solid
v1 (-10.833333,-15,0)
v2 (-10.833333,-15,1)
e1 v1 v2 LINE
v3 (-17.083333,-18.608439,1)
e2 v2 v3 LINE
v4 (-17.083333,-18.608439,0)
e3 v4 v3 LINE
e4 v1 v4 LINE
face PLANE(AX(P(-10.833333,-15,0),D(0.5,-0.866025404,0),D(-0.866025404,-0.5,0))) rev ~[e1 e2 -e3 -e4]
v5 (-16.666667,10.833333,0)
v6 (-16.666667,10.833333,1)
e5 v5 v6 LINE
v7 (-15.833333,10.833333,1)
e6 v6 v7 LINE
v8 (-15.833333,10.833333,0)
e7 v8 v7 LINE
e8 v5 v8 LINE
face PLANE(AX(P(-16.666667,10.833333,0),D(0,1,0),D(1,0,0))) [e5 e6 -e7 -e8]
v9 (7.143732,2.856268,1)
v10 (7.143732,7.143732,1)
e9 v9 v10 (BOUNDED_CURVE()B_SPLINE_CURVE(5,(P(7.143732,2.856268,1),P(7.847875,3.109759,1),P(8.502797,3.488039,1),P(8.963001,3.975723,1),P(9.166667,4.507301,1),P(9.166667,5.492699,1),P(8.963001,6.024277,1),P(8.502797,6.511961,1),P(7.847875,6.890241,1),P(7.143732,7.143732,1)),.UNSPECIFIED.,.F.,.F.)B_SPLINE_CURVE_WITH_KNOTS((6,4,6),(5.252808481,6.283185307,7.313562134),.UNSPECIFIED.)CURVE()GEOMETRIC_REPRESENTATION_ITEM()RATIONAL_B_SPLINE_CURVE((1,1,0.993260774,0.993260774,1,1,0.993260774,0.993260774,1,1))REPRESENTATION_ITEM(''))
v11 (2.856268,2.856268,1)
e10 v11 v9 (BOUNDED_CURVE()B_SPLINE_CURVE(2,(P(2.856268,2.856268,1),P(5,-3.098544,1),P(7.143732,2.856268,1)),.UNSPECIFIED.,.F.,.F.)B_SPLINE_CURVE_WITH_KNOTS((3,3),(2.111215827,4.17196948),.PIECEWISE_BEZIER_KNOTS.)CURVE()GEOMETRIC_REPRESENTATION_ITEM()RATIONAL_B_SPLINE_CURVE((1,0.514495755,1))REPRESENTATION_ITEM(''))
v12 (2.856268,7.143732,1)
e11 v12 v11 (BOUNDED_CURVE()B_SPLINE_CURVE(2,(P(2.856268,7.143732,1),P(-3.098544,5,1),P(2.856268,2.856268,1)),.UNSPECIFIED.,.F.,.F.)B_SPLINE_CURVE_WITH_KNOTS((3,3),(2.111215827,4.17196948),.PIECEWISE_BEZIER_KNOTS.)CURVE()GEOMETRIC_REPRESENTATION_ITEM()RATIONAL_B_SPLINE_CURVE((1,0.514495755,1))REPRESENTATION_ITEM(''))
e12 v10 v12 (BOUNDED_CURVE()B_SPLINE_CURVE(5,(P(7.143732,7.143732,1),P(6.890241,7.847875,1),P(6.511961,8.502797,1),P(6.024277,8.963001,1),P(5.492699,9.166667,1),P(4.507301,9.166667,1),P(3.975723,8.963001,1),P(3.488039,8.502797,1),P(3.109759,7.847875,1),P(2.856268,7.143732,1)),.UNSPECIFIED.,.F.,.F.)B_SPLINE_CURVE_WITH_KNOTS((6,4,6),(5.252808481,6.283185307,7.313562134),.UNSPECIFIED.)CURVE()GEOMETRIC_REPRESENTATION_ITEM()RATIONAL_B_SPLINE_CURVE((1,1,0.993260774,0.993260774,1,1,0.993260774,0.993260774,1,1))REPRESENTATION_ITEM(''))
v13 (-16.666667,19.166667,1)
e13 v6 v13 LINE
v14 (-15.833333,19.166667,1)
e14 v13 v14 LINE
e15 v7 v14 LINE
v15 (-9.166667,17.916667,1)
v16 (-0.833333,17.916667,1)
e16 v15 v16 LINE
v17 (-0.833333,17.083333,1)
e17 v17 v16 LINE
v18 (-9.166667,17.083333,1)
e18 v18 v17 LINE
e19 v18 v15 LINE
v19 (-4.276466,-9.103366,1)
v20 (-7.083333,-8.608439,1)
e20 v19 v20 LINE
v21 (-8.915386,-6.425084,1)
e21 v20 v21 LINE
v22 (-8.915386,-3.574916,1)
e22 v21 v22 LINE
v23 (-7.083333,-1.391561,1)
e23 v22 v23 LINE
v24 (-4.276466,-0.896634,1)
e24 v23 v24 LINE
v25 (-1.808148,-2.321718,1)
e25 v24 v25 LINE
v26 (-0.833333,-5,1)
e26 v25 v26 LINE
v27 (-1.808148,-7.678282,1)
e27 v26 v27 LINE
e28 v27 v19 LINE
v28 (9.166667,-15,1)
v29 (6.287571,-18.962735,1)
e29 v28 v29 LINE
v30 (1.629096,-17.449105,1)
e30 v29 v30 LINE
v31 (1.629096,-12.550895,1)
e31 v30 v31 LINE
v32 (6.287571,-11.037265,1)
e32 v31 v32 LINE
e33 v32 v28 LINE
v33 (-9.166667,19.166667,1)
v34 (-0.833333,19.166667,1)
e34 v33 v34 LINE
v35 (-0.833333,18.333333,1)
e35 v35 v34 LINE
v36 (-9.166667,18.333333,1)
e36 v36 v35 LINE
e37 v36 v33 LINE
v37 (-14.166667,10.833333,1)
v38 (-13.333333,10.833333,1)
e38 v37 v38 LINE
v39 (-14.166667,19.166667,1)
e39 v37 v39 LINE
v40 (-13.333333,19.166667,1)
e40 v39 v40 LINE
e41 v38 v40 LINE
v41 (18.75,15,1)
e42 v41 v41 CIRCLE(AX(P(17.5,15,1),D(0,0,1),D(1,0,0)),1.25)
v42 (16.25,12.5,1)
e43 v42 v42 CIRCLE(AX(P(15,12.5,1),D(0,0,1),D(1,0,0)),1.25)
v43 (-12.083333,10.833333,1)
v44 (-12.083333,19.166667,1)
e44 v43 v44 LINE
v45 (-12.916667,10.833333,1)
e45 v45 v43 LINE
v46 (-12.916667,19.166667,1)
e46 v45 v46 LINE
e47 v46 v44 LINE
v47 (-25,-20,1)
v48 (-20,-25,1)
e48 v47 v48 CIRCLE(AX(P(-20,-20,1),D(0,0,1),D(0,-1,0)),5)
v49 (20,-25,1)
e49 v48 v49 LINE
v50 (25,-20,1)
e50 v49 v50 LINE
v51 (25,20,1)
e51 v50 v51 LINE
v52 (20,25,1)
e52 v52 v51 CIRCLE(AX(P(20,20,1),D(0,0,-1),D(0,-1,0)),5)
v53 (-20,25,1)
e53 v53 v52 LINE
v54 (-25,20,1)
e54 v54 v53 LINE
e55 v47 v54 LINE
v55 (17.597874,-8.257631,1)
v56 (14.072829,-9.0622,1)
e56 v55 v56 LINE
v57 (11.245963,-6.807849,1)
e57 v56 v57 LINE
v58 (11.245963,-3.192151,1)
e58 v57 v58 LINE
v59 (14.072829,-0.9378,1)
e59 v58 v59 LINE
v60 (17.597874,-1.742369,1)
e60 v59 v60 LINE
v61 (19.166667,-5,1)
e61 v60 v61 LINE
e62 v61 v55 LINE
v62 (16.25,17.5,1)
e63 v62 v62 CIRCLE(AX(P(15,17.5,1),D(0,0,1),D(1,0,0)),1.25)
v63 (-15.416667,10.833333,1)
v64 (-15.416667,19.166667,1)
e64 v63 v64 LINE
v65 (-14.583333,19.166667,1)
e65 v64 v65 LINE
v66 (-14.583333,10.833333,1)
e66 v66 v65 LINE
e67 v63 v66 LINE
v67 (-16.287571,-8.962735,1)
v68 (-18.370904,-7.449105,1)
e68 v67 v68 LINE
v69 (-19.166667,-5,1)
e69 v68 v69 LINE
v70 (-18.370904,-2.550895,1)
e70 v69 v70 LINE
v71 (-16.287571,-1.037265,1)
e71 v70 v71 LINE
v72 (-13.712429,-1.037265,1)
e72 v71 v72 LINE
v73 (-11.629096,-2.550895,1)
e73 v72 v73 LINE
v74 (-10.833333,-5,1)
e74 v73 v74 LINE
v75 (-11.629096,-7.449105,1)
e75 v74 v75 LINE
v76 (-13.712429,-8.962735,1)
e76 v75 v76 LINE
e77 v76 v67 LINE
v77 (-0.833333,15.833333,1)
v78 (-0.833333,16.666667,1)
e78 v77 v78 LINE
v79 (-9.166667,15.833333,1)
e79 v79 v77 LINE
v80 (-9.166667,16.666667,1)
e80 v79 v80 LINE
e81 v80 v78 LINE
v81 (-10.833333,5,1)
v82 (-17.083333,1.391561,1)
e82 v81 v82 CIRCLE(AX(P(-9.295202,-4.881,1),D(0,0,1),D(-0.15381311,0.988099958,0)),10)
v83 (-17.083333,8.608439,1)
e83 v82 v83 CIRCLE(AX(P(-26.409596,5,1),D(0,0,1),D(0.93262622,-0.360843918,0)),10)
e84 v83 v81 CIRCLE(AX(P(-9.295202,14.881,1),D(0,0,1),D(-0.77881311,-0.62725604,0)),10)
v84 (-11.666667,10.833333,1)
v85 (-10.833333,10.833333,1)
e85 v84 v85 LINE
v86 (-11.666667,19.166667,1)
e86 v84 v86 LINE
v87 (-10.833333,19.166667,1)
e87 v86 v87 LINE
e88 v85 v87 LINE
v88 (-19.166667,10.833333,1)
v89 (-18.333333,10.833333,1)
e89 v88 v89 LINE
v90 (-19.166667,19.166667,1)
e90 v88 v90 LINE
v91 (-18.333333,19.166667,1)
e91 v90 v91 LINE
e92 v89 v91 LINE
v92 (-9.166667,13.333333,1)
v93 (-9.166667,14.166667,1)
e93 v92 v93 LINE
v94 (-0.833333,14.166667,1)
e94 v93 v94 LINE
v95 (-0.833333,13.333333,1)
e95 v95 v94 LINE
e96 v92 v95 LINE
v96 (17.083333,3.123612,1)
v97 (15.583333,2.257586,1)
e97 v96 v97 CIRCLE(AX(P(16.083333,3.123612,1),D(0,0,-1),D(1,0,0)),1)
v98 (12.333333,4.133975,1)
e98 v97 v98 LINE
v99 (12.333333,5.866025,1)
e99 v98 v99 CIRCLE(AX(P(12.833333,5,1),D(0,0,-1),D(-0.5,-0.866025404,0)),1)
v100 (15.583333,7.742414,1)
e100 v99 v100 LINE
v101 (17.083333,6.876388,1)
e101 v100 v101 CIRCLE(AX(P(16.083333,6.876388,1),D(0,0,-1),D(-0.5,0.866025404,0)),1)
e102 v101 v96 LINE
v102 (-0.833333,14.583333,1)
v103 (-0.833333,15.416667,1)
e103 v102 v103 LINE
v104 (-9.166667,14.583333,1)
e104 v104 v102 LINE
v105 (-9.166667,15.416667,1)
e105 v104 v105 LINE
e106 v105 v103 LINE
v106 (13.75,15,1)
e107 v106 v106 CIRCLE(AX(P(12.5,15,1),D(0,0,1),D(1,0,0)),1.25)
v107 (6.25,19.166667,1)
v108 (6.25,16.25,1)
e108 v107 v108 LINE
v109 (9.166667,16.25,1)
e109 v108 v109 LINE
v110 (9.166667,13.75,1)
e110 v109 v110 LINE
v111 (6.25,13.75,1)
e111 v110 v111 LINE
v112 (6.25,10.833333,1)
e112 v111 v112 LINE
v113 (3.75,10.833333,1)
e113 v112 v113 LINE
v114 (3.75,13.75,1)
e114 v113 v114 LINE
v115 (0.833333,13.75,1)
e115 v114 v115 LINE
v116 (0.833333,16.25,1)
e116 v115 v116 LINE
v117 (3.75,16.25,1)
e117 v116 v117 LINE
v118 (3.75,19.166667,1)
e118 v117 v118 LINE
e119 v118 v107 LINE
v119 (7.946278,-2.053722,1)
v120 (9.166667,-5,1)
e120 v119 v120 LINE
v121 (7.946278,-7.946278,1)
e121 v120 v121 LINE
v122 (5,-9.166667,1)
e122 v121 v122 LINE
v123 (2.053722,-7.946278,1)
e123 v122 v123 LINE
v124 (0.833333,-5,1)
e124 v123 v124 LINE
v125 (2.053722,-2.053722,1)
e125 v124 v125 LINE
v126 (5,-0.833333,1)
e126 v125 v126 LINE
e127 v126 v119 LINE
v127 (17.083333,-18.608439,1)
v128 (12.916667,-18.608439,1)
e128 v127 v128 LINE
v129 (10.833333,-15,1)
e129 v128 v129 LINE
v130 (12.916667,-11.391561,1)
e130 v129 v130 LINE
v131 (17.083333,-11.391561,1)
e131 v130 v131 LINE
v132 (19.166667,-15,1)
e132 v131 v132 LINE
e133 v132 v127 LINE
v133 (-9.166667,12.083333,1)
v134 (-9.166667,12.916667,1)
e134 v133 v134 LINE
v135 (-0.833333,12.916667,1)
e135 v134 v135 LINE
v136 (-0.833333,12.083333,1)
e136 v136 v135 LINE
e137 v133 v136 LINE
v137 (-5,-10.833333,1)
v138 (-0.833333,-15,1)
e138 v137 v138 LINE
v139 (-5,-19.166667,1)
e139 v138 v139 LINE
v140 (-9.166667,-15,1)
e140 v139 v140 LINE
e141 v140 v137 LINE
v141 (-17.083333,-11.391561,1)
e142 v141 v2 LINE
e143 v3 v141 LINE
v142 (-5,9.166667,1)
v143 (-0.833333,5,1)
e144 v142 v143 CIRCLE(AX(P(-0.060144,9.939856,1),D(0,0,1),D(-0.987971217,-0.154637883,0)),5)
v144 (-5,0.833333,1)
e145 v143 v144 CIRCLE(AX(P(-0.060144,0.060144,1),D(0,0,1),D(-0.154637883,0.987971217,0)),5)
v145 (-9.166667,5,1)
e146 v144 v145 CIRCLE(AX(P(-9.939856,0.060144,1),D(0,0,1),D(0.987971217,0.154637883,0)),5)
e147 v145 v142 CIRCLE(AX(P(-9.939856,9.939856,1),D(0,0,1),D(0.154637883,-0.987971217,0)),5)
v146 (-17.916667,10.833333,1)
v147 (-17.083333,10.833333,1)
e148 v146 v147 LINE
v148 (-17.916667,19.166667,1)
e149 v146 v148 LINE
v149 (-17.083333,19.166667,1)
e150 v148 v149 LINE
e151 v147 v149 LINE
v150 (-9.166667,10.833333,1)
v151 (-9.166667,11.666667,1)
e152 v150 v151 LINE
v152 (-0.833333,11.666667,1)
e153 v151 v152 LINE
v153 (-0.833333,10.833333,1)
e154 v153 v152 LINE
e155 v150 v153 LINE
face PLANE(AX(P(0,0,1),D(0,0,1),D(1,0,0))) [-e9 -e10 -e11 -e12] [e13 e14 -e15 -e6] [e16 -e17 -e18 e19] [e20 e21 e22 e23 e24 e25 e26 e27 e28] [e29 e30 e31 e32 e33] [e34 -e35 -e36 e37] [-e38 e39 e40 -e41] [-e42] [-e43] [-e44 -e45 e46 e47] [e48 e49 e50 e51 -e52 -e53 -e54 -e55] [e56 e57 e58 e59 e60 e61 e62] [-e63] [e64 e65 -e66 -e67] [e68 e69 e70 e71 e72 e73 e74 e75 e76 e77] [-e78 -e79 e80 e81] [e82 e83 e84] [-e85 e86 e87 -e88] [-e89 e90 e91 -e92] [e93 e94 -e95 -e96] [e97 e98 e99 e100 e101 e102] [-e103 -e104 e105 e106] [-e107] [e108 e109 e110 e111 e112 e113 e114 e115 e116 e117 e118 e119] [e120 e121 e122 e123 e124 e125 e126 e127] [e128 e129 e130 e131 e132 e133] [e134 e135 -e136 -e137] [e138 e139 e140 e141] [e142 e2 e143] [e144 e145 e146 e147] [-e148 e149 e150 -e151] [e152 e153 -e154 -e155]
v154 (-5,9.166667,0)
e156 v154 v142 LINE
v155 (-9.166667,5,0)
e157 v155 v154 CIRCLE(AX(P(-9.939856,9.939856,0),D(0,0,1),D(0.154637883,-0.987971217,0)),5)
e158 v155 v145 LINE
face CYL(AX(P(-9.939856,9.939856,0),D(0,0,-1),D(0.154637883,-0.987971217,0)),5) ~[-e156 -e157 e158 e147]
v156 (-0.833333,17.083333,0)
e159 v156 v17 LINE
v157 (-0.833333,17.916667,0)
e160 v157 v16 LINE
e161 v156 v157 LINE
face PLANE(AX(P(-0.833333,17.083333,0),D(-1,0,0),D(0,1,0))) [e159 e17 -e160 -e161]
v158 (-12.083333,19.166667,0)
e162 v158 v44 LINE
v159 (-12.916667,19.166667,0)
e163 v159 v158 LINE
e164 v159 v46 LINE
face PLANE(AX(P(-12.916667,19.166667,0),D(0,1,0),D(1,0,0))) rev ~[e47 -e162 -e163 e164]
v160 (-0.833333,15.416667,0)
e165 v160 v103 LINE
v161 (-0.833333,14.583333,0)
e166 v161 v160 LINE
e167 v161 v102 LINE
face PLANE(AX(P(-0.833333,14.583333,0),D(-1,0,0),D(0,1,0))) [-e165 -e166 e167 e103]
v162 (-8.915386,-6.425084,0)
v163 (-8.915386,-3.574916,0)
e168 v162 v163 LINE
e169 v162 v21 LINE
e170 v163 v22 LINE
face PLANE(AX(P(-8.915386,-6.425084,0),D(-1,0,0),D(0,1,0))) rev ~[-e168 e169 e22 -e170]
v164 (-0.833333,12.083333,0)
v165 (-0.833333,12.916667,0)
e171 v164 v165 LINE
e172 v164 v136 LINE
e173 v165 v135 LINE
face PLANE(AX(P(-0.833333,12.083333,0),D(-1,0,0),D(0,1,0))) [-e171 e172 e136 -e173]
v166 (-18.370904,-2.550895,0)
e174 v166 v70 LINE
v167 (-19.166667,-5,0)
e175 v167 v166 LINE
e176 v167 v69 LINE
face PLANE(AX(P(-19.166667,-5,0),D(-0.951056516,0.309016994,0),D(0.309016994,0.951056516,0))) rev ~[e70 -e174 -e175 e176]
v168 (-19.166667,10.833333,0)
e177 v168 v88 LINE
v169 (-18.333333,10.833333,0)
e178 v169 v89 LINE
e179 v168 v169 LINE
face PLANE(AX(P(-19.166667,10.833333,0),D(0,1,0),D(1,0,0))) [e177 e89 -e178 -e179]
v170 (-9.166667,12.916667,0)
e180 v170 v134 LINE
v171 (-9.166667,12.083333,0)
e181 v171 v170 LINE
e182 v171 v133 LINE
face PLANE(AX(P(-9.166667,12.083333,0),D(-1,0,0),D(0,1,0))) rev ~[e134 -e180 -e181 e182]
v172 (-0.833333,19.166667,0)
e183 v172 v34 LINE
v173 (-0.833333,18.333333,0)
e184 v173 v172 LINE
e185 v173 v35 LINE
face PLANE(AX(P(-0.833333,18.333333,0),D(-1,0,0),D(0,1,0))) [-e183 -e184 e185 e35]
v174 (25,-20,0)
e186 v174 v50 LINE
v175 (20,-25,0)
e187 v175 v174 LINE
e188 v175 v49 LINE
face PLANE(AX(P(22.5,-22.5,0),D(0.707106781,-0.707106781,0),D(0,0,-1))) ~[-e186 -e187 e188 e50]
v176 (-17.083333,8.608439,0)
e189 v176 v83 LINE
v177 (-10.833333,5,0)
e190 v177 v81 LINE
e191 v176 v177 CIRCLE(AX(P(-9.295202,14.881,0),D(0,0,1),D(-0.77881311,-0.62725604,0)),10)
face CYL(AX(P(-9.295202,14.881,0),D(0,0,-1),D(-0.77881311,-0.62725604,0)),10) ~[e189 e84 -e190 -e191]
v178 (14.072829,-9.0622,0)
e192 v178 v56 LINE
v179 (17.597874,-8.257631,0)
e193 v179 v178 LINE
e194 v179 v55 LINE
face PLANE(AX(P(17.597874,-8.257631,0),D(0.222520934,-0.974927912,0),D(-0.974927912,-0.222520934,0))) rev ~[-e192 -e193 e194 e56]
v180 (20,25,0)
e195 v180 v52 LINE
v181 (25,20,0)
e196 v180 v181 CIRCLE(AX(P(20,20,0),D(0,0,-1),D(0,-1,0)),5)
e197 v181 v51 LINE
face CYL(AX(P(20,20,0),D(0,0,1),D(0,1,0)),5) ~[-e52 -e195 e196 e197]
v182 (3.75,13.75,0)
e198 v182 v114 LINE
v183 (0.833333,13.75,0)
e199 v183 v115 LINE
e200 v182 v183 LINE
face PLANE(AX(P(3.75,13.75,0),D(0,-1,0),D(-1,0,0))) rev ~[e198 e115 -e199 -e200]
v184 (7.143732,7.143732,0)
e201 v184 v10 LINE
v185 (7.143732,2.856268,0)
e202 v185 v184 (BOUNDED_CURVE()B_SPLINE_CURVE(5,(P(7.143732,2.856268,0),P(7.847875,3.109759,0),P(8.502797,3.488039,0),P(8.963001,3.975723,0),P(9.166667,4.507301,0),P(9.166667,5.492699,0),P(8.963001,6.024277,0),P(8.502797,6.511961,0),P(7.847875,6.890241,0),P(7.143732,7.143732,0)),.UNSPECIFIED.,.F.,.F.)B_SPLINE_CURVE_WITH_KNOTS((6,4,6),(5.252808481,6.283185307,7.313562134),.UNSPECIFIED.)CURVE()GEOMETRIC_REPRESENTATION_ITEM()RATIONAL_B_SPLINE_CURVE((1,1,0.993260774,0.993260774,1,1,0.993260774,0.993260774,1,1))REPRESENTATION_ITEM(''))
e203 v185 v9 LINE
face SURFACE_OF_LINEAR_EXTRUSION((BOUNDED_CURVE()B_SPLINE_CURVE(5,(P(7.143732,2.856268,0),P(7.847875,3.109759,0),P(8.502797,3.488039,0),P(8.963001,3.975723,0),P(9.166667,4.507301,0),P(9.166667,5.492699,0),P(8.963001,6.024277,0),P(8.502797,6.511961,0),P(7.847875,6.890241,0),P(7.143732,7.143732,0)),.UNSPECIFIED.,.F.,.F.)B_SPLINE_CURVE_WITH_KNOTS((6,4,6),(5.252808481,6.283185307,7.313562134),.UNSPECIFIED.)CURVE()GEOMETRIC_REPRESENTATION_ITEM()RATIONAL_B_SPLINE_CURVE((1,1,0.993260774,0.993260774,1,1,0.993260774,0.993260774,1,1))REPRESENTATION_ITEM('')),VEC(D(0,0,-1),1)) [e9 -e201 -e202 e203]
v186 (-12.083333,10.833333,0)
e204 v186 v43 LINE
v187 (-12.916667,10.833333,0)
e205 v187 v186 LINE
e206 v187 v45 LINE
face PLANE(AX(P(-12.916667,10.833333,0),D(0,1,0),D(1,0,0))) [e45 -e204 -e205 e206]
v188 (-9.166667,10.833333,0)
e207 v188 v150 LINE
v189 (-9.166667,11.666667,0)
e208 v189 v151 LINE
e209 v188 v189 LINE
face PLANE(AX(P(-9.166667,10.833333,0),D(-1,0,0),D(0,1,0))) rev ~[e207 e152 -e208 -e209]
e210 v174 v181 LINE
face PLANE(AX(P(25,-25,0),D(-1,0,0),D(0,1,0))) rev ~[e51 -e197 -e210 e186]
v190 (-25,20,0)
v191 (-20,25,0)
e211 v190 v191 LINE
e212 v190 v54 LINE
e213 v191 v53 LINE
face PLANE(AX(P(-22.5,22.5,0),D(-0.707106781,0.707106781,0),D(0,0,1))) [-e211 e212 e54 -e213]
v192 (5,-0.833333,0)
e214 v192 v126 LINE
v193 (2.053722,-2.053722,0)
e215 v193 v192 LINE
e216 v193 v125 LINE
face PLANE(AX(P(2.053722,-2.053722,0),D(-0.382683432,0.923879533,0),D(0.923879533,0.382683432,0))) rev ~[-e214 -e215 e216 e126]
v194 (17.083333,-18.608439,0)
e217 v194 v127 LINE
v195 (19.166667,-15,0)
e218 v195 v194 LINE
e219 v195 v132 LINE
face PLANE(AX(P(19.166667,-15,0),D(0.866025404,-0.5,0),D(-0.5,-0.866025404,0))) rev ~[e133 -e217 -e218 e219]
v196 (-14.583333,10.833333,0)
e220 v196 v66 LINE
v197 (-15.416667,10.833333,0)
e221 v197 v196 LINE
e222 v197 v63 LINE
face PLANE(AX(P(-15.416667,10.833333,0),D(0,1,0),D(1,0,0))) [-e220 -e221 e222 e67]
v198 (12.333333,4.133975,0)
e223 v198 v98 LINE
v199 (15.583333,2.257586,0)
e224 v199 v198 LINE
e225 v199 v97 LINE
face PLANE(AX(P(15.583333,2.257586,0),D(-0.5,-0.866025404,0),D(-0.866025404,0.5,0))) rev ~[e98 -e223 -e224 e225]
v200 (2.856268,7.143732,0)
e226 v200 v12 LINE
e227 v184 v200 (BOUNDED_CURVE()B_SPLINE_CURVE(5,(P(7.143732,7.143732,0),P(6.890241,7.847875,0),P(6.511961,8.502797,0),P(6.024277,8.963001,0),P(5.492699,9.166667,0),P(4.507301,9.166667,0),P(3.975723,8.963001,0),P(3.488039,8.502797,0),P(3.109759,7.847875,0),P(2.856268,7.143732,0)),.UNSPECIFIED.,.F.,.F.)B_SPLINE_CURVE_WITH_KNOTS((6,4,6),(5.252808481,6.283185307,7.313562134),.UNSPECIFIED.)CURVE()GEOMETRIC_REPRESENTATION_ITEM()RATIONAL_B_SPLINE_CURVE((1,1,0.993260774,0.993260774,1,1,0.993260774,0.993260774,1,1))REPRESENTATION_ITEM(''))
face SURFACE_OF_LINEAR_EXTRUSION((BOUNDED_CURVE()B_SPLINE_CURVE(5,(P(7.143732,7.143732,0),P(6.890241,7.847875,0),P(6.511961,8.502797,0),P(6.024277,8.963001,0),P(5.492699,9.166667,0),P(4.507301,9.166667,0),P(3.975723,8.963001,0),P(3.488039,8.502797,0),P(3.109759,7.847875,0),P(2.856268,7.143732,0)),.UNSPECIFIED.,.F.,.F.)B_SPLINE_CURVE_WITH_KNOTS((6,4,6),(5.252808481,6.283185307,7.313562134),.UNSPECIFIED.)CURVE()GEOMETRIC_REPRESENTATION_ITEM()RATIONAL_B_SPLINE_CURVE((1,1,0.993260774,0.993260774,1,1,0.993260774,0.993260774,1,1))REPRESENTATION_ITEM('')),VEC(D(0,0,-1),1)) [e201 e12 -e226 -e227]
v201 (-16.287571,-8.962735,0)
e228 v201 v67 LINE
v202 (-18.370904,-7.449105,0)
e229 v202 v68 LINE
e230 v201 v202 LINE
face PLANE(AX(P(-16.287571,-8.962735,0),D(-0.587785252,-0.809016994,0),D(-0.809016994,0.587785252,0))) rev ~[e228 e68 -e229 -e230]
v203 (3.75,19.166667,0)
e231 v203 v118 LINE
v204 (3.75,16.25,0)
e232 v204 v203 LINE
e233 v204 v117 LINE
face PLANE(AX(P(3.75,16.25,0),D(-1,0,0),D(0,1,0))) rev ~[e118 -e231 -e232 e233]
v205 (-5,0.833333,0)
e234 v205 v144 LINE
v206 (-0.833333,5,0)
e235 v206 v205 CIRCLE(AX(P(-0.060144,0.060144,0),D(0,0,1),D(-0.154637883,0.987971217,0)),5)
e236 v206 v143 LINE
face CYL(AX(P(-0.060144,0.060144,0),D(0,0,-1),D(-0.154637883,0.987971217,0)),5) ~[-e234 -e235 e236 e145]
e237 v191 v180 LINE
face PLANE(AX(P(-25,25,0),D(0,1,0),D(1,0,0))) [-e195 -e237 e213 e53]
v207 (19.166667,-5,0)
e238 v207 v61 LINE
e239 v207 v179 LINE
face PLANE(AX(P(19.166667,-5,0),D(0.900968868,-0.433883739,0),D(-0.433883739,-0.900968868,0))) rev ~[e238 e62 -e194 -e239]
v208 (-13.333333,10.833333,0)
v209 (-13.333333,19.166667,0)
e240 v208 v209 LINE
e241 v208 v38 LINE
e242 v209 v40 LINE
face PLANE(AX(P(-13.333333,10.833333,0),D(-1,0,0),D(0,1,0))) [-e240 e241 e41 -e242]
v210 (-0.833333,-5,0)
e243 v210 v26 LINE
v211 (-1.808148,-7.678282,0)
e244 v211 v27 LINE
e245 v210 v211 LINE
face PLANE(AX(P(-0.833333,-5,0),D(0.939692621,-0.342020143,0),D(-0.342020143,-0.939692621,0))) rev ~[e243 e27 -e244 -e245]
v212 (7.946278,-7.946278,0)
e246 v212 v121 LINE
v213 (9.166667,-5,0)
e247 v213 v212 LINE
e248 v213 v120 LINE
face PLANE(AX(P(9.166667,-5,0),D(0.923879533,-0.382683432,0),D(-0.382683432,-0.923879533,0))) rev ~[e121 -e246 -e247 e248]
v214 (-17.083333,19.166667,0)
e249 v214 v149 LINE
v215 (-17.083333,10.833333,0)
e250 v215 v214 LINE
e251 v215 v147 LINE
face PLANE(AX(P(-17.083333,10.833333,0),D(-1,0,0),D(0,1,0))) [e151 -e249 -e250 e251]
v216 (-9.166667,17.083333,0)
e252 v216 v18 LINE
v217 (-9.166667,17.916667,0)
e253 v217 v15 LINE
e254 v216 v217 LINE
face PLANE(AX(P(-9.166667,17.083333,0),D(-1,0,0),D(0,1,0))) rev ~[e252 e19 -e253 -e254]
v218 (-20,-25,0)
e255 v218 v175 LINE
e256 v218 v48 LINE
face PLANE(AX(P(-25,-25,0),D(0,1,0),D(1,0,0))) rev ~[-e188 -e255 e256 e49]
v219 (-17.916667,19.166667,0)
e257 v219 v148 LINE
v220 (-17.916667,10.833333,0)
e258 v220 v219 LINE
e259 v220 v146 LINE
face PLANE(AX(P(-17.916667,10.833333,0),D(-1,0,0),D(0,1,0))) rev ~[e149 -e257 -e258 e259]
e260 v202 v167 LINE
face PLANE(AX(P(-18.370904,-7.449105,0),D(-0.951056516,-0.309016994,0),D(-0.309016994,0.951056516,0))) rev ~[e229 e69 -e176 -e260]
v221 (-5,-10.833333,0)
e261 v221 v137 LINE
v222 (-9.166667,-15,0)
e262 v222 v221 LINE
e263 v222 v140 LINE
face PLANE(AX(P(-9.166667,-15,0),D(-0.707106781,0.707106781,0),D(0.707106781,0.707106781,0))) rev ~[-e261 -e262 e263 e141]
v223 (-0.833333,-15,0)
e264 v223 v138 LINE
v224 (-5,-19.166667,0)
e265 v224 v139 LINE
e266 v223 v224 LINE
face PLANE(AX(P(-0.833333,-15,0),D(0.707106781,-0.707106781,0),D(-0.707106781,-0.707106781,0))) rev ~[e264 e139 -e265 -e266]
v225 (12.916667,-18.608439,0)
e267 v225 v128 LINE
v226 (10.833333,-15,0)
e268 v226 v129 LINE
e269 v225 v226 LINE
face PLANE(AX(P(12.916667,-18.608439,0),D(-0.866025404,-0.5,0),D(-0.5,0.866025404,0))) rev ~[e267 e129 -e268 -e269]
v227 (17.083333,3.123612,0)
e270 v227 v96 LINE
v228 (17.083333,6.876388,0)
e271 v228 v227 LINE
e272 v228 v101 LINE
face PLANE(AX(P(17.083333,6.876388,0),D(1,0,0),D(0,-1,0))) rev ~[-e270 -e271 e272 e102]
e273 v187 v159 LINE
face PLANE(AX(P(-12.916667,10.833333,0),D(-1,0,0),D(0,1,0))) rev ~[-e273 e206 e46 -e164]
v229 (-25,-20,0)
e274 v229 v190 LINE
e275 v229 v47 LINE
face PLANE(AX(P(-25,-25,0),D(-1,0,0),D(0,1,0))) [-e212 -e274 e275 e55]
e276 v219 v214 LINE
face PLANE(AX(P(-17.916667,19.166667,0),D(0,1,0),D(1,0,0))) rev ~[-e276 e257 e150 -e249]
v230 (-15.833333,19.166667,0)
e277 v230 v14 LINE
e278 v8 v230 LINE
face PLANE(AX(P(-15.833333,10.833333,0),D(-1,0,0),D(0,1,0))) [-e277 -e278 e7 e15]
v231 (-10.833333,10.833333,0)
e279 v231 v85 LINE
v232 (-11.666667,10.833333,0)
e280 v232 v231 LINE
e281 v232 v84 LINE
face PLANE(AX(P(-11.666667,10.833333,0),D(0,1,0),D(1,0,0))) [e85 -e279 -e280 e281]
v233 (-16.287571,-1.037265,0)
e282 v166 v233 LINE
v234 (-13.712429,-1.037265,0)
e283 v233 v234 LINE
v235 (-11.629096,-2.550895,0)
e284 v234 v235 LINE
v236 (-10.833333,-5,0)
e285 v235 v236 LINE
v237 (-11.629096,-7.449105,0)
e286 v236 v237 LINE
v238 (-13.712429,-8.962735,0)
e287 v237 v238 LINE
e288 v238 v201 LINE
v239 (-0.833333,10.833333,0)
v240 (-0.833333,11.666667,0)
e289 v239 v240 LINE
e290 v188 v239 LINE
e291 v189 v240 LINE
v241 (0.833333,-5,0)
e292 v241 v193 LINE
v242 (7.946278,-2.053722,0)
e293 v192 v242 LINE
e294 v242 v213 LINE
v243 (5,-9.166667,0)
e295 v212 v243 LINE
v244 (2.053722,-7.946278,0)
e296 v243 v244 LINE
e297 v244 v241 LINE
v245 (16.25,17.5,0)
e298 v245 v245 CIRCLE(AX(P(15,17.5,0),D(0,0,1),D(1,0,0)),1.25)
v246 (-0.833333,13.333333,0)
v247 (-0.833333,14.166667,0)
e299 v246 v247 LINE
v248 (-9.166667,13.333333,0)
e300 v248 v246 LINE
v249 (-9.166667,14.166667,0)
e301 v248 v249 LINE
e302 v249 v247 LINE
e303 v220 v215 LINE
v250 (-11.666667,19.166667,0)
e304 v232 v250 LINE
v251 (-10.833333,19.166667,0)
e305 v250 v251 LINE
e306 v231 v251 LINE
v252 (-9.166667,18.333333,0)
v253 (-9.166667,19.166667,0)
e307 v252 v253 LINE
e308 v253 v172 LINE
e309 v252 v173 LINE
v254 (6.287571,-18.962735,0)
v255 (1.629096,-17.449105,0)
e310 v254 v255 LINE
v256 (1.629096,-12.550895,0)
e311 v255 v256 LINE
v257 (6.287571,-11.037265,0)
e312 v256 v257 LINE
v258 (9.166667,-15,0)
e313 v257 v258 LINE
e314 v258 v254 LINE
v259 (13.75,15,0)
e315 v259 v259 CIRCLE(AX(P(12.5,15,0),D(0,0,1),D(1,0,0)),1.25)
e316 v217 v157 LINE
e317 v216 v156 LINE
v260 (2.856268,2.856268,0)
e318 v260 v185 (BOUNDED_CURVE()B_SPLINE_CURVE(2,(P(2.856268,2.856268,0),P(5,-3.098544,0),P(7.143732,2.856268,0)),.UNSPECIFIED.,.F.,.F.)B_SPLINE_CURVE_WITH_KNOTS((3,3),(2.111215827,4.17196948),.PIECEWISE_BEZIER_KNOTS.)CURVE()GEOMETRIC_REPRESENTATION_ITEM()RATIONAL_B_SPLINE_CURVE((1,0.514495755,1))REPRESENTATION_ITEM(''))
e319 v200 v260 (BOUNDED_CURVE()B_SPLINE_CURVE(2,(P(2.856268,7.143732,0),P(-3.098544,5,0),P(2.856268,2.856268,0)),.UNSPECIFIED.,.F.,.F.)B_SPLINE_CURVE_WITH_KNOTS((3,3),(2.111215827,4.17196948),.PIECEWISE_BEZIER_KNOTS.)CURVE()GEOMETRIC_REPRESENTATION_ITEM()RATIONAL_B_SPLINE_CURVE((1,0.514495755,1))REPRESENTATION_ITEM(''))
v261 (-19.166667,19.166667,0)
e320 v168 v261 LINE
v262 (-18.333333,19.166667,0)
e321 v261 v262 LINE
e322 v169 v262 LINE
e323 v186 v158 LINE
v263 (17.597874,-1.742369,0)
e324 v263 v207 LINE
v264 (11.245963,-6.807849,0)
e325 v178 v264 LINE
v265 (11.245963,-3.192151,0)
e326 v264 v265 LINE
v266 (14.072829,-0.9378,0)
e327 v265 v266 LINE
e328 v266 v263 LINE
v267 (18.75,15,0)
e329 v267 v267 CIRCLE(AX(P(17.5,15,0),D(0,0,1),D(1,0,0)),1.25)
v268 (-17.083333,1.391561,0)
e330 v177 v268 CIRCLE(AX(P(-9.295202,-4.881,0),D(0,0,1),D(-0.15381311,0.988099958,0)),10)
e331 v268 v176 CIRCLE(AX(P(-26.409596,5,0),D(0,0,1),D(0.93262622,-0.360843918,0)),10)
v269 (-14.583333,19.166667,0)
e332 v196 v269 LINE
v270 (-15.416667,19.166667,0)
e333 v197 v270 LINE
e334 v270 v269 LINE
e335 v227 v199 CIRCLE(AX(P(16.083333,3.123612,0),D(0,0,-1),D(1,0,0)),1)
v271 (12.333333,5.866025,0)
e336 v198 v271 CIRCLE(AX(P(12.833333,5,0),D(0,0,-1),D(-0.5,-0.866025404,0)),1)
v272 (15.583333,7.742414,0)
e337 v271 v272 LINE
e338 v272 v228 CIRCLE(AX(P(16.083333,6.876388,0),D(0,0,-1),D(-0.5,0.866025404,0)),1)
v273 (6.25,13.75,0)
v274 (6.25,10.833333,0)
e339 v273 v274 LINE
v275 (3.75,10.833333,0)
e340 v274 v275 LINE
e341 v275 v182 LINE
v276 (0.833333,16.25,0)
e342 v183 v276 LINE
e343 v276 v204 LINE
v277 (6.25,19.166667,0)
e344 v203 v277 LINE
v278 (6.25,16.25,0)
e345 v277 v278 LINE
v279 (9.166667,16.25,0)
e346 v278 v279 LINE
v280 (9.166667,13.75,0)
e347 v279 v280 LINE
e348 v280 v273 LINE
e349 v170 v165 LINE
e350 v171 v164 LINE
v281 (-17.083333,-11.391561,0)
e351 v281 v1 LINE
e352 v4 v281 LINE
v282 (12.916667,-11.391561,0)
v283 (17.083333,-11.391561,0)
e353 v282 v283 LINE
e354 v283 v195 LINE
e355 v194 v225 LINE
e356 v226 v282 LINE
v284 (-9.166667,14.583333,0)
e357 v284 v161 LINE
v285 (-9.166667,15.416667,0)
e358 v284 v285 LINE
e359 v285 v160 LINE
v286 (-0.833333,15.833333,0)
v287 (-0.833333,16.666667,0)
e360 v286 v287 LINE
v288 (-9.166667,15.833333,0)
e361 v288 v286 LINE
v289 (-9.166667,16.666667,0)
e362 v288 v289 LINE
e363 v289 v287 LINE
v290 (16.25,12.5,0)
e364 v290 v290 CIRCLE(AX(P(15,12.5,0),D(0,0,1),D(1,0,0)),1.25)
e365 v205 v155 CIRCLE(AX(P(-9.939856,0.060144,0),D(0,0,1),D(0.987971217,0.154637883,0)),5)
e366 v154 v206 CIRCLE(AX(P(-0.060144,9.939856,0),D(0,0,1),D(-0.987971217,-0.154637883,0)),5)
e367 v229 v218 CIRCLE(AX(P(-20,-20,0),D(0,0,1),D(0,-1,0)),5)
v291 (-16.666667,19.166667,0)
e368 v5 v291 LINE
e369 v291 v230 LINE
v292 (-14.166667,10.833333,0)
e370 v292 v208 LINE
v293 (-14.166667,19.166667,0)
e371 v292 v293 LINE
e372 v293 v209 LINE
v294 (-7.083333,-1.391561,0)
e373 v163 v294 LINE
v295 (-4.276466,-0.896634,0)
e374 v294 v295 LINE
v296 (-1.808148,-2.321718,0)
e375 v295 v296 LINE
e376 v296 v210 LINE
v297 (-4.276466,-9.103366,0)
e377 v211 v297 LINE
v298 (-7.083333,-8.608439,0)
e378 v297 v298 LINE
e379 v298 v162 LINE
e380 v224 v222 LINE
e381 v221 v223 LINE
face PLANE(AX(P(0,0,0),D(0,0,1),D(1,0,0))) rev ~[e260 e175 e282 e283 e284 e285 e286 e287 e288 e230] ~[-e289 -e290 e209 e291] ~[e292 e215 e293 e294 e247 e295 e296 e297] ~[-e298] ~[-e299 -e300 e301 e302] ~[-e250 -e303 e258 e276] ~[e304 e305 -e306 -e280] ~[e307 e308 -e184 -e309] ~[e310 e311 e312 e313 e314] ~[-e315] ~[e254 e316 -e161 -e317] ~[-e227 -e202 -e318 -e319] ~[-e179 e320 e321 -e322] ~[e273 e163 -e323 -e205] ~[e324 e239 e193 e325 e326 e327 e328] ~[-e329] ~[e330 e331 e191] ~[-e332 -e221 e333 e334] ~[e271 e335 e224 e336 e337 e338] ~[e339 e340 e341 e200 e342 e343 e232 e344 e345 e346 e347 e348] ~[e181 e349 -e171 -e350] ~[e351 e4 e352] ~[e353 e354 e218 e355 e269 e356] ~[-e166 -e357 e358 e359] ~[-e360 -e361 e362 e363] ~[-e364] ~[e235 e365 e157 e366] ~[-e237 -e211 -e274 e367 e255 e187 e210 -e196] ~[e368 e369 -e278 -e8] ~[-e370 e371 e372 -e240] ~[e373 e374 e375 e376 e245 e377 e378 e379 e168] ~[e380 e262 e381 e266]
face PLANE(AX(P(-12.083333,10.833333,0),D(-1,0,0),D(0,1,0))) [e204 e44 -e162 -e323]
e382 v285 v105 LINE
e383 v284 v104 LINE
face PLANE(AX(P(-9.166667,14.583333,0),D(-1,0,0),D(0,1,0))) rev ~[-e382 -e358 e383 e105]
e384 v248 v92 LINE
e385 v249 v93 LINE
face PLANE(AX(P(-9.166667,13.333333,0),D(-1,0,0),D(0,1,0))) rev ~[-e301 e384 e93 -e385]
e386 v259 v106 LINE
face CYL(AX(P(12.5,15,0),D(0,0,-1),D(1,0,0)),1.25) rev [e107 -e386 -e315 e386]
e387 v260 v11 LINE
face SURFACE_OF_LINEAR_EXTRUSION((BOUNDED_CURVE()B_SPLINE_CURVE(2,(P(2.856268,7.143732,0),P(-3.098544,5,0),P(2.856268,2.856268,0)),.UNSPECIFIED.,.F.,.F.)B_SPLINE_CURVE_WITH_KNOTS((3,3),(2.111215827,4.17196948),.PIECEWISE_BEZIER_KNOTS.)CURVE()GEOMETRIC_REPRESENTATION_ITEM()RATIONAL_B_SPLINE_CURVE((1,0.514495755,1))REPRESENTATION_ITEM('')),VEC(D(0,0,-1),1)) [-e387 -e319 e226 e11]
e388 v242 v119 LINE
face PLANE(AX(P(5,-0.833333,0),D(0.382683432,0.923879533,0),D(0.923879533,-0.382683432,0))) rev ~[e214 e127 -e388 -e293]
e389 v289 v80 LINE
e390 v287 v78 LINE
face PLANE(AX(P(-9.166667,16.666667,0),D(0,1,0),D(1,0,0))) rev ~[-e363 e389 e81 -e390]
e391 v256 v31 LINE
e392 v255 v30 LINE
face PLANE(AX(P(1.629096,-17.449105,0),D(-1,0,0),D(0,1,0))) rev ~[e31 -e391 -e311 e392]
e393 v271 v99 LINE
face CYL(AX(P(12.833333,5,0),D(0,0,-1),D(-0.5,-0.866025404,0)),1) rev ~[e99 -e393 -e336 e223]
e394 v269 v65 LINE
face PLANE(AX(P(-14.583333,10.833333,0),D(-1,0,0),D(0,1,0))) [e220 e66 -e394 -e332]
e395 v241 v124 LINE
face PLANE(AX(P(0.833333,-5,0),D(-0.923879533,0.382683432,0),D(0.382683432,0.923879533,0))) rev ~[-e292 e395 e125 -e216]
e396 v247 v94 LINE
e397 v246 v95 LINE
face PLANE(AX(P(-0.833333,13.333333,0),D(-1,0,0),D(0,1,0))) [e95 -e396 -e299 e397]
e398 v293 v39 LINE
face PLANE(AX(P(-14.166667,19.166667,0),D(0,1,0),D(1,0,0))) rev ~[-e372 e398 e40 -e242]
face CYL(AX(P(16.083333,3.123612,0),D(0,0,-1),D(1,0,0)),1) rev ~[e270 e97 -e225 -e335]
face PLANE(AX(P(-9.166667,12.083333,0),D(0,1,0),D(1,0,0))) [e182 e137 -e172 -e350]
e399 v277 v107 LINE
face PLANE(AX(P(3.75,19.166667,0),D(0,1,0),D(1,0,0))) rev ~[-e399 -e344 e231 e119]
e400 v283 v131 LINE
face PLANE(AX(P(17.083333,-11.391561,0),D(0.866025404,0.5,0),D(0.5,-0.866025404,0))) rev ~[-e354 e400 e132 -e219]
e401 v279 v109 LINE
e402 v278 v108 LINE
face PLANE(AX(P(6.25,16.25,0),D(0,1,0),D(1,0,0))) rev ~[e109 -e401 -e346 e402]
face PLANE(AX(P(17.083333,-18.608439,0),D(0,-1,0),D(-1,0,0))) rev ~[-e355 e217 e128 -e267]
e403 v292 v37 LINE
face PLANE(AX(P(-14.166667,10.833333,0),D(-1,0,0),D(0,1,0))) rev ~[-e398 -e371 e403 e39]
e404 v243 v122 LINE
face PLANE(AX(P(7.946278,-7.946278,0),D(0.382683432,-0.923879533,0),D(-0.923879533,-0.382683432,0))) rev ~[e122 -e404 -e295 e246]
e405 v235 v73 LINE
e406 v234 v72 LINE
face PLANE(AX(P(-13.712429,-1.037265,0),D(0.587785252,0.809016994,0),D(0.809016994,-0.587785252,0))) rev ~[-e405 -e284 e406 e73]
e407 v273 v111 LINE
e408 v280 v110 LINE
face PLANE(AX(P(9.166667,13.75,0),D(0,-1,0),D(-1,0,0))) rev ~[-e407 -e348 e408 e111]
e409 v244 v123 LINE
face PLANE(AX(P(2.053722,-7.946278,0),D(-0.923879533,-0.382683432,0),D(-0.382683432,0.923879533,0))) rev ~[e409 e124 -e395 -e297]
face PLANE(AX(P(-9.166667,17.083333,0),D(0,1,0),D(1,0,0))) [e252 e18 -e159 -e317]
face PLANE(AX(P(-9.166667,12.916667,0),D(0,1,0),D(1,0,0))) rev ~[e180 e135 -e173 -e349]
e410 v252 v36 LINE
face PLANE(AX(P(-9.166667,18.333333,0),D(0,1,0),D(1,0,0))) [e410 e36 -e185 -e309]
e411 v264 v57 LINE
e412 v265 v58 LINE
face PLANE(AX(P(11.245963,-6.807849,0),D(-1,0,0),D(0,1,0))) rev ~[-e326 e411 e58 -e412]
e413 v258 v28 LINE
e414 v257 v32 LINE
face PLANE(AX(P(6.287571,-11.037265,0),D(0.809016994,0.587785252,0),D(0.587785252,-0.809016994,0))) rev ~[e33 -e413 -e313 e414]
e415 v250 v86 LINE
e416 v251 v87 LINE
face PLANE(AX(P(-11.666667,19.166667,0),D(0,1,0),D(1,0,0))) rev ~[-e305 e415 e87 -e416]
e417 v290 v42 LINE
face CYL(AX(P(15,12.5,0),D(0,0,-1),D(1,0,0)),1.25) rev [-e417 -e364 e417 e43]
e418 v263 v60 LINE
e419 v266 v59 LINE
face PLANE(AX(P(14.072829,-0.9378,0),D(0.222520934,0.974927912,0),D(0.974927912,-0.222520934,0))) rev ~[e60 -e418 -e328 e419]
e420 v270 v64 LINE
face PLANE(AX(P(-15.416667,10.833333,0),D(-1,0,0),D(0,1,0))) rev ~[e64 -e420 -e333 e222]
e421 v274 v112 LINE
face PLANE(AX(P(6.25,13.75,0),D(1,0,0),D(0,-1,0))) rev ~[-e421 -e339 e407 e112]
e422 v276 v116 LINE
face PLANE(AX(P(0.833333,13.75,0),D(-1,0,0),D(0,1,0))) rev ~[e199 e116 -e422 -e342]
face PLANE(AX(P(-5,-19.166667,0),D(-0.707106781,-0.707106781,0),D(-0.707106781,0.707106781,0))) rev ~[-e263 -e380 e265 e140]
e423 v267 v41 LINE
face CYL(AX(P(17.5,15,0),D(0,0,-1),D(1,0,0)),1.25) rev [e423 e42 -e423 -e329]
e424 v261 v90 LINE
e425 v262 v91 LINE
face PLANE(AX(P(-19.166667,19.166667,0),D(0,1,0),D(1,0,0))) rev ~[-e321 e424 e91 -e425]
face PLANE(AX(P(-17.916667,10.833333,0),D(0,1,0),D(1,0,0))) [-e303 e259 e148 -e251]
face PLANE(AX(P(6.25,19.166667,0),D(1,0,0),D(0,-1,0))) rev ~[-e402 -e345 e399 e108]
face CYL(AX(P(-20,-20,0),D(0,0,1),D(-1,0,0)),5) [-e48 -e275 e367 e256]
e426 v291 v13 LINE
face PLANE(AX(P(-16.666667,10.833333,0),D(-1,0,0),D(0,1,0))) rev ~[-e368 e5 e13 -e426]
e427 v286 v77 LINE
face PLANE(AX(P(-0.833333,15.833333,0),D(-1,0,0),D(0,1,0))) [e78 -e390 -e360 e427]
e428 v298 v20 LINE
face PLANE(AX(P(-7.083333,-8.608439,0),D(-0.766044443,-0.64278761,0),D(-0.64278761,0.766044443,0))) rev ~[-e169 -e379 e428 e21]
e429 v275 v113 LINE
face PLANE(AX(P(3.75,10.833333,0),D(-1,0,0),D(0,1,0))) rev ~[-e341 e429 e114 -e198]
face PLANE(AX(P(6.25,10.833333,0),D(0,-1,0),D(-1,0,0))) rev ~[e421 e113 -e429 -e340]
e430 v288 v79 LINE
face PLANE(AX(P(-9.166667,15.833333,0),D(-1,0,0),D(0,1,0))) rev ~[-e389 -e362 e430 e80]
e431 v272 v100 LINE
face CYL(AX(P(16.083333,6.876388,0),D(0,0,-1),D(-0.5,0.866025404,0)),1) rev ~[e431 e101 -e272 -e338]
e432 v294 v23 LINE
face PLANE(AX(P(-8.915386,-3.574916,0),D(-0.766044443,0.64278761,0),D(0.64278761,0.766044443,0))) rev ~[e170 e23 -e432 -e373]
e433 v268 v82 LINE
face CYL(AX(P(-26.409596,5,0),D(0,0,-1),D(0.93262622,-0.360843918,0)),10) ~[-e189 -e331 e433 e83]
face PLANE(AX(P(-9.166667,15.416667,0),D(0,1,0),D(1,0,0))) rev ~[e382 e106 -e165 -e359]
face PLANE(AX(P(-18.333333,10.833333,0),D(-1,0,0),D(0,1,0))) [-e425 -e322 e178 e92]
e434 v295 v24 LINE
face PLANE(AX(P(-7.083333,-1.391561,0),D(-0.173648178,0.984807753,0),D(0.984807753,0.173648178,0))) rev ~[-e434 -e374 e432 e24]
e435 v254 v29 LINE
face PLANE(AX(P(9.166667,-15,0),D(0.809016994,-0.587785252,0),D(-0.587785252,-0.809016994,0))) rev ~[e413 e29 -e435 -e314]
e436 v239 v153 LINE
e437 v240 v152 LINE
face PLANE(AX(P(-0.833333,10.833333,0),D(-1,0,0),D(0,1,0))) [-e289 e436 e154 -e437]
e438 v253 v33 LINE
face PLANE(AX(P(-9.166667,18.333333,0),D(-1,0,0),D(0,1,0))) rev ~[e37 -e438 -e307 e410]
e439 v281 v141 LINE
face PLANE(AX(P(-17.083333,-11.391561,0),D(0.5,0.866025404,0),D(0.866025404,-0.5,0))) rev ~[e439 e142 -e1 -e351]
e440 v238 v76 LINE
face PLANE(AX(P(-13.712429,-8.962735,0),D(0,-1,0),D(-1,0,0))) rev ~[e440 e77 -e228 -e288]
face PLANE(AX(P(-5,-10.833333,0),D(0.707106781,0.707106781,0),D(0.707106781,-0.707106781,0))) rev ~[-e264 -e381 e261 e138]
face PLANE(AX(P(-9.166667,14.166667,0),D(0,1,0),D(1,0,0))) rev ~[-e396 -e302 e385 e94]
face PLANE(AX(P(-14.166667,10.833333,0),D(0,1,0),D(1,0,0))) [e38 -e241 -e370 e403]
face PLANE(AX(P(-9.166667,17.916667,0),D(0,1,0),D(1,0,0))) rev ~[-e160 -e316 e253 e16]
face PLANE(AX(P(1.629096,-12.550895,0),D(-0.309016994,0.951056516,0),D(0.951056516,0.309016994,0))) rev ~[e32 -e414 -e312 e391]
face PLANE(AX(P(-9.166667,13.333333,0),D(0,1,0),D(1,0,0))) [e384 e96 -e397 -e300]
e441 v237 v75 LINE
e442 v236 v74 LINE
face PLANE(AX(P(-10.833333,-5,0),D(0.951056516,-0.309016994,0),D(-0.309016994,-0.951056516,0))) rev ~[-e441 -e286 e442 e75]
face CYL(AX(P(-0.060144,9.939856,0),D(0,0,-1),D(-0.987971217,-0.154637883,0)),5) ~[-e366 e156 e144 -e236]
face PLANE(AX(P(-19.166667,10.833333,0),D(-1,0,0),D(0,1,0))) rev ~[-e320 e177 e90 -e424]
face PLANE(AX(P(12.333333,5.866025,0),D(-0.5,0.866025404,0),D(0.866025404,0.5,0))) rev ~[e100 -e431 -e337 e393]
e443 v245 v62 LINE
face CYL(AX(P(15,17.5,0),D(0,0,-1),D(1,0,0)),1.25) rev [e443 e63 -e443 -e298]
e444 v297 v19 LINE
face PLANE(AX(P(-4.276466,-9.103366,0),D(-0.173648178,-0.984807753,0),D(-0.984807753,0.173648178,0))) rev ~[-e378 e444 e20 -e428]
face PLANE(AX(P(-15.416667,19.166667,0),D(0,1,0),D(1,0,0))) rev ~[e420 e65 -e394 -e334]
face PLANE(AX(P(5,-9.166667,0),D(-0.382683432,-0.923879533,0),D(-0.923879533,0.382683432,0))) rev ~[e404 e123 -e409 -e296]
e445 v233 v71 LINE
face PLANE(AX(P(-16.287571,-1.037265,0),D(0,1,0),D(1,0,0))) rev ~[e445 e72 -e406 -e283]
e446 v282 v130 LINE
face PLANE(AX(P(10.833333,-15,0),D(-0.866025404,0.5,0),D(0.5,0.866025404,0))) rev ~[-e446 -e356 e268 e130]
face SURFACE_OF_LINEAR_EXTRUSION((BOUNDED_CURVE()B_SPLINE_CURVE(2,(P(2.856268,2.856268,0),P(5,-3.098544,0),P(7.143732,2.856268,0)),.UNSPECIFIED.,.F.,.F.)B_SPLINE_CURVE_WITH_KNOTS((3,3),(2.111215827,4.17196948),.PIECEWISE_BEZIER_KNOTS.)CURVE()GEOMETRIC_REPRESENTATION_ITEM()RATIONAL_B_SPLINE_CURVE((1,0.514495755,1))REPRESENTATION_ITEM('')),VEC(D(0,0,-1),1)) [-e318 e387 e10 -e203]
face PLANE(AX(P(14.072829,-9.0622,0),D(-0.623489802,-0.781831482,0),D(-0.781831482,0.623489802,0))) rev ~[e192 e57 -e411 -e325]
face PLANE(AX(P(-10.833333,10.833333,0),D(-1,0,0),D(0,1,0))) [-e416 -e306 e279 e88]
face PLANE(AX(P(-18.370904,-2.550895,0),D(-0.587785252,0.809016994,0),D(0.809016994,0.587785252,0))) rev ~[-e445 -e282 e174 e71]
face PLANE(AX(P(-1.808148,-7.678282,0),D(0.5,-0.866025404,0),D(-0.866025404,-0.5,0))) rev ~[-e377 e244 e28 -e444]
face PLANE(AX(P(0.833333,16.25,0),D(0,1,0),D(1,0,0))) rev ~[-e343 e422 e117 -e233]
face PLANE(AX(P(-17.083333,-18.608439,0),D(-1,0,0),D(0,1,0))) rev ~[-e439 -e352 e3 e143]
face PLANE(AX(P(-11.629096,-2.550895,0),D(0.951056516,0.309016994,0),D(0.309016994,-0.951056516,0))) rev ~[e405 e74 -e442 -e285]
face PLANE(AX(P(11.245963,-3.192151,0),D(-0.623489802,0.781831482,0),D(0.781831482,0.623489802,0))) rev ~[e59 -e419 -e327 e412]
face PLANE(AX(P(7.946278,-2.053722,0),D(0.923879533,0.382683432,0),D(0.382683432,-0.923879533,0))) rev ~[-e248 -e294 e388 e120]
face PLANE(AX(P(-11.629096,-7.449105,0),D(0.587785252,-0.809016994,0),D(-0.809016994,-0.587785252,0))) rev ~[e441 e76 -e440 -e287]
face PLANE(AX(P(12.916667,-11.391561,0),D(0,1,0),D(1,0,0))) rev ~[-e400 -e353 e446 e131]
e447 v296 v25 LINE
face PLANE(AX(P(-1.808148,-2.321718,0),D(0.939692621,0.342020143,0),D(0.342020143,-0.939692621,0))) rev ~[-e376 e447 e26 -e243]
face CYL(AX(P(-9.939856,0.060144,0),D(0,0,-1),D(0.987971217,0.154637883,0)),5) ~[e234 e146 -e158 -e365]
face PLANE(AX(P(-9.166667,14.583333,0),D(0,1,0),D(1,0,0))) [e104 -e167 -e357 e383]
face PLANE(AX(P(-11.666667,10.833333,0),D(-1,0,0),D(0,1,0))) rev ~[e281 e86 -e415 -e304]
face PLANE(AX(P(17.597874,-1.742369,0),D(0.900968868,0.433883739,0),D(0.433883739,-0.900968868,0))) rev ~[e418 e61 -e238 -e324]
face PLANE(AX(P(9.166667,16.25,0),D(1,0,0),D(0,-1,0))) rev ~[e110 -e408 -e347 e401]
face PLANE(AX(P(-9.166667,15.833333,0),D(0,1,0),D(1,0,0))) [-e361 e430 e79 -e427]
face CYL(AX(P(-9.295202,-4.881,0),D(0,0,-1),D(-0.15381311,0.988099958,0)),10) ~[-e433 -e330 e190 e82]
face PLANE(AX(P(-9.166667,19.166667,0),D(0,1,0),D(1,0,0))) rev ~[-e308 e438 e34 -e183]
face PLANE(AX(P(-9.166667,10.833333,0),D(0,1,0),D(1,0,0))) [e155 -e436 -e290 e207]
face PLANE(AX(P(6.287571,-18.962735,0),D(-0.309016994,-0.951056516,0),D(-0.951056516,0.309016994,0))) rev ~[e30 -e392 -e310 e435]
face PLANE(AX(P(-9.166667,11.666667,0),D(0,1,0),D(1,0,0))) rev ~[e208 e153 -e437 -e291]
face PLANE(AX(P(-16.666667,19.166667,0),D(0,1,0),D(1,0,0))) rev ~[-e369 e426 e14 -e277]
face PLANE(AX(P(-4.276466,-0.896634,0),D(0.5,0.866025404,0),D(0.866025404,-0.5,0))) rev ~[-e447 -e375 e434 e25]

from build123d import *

# Parameters (mm, degrees)
F1_W     = 50
F1_H     = 50
F1_W_2   = 8.3333333333
F1_H_2   = 0.8333333333
F1_W_3   = 0.8333333333
F1_H_3   = 8.3333333333
F1_R     = 1.25
F2_DEPTH = 1
F3_R     = 5
F4_SIZE  = 5


with BuildPart() as f2:
    # F1 (on Top) → F2 (new body)
    with BuildSketch(Plane.XY):
        Rectangle(F1_W, F1_H)
        Polygon((-17.0833333333, -11.3915608176), (-10.8333333333, -15), (-17.0833333333, -18.6084391824), align=None, mode=Mode.SUBTRACT)
        Polygon((-5, -10.8333333333), (-0.8333333333, -15), (-5, -19.1666666667), (-9.1666666667, -15), align=None, mode=Mode.SUBTRACT)
        Polygon((-11.6290958568, -2.5508947821), (-10.8333333333, -5), (-11.6290958568, -7.4491052179), (-13.7124291901, -8.9627354846), (-16.2875708099, -8.9627354846), (-18.3709041432, -7.4491052179), (-19.1666666667, -5), (-18.3709041432, -2.5508947821), (-16.2875708099, -1.0372645154), (-13.7124291901, -1.0372645154), align=None, mode=Mode.SUBTRACT)
        Polygon((-1.8081481537, -2.321718293), (-0.8333333333, -5), (-1.8081481537, -7.678281707), (-4.2764659264, -9.1033656376), (-7.0833333333, -8.6084391824), (-8.9153859199, -6.4250839305), (-8.9153859199, -3.5749160695), (-7.0833333333, -1.3915608176), (-4.2764659264, -0.8966343624), align=None, mode=Mode.SUBTRACT)
        Polygon((6.2875708099, -11.0372645154), (9.1666666667, -15), (6.2875708099, -18.9627354846), (1.6290958568, -17.4491052179), (1.6290958568, -12.5508947821), align=None, mode=Mode.SUBTRACT)
        Polygon((17.0833333333, -11.3915608176), (19.1666666667, -15), (17.0833333333, -18.6084391824), (12.9166666667, -18.6084391824), (10.8333333333, -15), (12.9166666667, -11.3915608176), align=None, mode=Mode.SUBTRACT)
        Polygon((7.9462782549, -2.0537217451), (9.1666666667, -5), (7.9462782549, -7.9462782549), (5, -9.1666666667), (2.0537217451, -7.9462782549), (0.8333333333, -5), (2.0537217451, -2.0537217451), (5, -0.8333333333), align=None, mode=Mode.SUBTRACT)
        Polygon((17.5978741744, -1.742368823), (19.1666666667, -5), (17.5978741744, -8.257631177), (14.0728294418, -9.0621996341), (11.2459630504, -6.807848913), (11.2459630504, -3.192151087), (14.0728294418, -0.9378003659), align=None, mode=Mode.SUBTRACT)
        with BuildLine():
            ThreePointArc((-10.8333333333, 5), (-14.2952022322, 3.7792544571), (-17.0833333333, 1.3915608176))
            ThreePointArc((-17.0833333333, 1.3915608176), (-16.4095955357, 5), (-17.0833333333, 8.6084391824))
            ThreePointArc((-17.0833333333, 8.6084391824), (-14.2952022322, 6.2207455429), (-10.8333333333, 5))
        make_face(mode=Mode.SUBTRACT)
        with BuildLine():
            ThreePointArc((-5, 0.8333333333), (-6.4043221776, 3.5956778224), (-9.1666666667, 5))
            ThreePointArc((-9.1666666667, 5), (-6.4043221776, 6.4043221776), (-5, 9.1666666667))
            ThreePointArc((-5, 9.1666666667), (-3.5956778224, 6.4043221776), (-0.8333333333, 5))
            ThreePointArc((-0.8333333333, 5), (-3.5956778224, 3.5956778224), (-5, 0.8333333333))
        make_face(mode=Mode.SUBTRACT)
        with Locations((-5, 11.25)):
            Rectangle(F1_W_2, F1_H_2, mode=Mode.SUBTRACT)
        with Locations((-18.75, 15)):
            Rectangle(F1_W_3, F1_H_3, mode=Mode.SUBTRACT)
        with Locations((-17.5, 15)):
            Rectangle(F1_W_3, F1_H_3, mode=Mode.SUBTRACT)
        with Locations((-16.25, 15)):
            Rectangle(F1_W_3, F1_H_3, mode=Mode.SUBTRACT)
        with Locations((-15, 15)):
            Rectangle(F1_W_3, F1_H_3, mode=Mode.SUBTRACT)
        with Locations((-13.75, 15)):
            Rectangle(F1_W_3, F1_H_3, mode=Mode.SUBTRACT)
        with Locations((-12.5, 15)):
            Rectangle(F1_W_3, F1_H_3, mode=Mode.SUBTRACT)
        with Locations((-11.25, 15)):
            Rectangle(F1_W_3, F1_H_3, mode=Mode.SUBTRACT)
        with Locations((-5, 12.5)):
            Rectangle(F1_W_2, F1_H_2, mode=Mode.SUBTRACT)
        with Locations((-5, 13.75)):
            Rectangle(F1_W_2, F1_H_2, mode=Mode.SUBTRACT)
        with Locations((-5, 15)):
            Rectangle(F1_W_2, F1_H_2, mode=Mode.SUBTRACT)
        with Locations((-5, 16.25)):
            Rectangle(F1_W_2, F1_H_2, mode=Mode.SUBTRACT)
        with Locations((-5, 17.5)):
            Rectangle(F1_W_2, F1_H_2, mode=Mode.SUBTRACT)
        with Locations((-5, 18.75)):
            Rectangle(F1_W_2, F1_H_2, mode=Mode.SUBTRACT)
        with BuildLine():
            add(Edge.make_bspline(
                [(5, 9.1666666667), (3.5845240526, 9.1666666667), (2.8562676857, 7.1437323143)],
                knots=[0, 0, 0, 1.0303768265, 1.0303768265, 1.0303768265], degree=2, weights=[1, 0.8701999068, 1]))
            add(Edge.make_bspline(
                [(7.1437323143, 7.1437323143), (6.4154759474, 9.1666666667), (5, 9.1666666667)],
                knots=[5.2528084807, 5.2528084807, 5.2528084807, 6.2831853072, 6.2831853072, 6.2831853072], degree=2, weights=[1, 0.8701999068, 1]))
            add(Edge.make_bspline(
                [(9.1666666667, 5), (9.1666666667, 6.4154759474), (7.1437323143, 7.1437323143)],
                knots=[0, 0, 0, 1.0303768265, 1.0303768265, 1.0303768265], degree=2, weights=[1, 0.8701999068, 1]))
            add(Edge.make_bspline(
                [(7.1437323143, 2.8562676857), (9.1666666667, 3.5845240526), (9.1666666667, 5)],
                knots=[5.2528084807, 5.2528084807, 5.2528084807, 6.2831853072, 6.2831853072, 6.2831853072], degree=2, weights=[1, 0.8701999068, 1]))
            add(Edge.make_bspline(
                [(2.8562676857, 2.8562676857), (5, -3.0985442984), (7.1437323143, 2.8562676857)],
                knots=[2.1112158271, 2.1112158271, 2.1112158271, 4.1719694801, 4.1719694801, 4.1719694801], degree=2, weights=[1, 0.5144957554, 1]))
            add(Edge.make_bspline(
                [(2.8562676857, 7.1437323143), (-3.0985442984, 5), (2.8562676857, 2.8562676857)],
                knots=[2.1112158271, 2.1112158271, 2.1112158271, 4.1719694801, 4.1719694801, 4.1719694801], degree=2, weights=[1, 0.5144957554, 1]))
        make_face(mode=Mode.SUBTRACT)
        with BuildLine():
            ThreePointArc((12.3333333333, 4.1339745962), (11.8333333333, 5), (12.3333333333, 5.8660254038))
            Line((12.3333333333, 5.8660254038), (15.5833333333, 7.7424137787))
            ThreePointArc((15.5833333333, 7.7424137787), (16.5833333333, 7.7424137787), (17.0833333333, 6.8763883749))
            Line((17.0833333333, 6.8763883749), (17.0833333333, 3.1236116251))
            ThreePointArc((17.0833333333, 3.1236116251), (16.5833333333, 2.2575862213), (15.5833333333, 2.2575862213))
            Line((15.5833333333, 2.2575862213), (12.3333333333, 4.1339745962))
        make_face(mode=Mode.SUBTRACT)
        Polygon((3.75, 16.25), (3.75, 19.1666666667), (6.25, 19.1666666667), (6.25, 16.25), (9.1666666667, 16.25), (9.1666666667, 13.75), (6.25, 13.75), (6.25, 10.8333333333), (3.75, 10.8333333333), (3.75, 13.75), (0.8333333333, 13.75), (0.8333333333, 16.25), align=None, mode=Mode.SUBTRACT)
        with Locations((15, 12.5)):
            Circle(F1_R, mode=Mode.SUBTRACT)
        with Locations((12.5, 15)):
            Circle(F1_R, mode=Mode.SUBTRACT)
        with Locations((17.5, 15)):
            Circle(F1_R, mode=Mode.SUBTRACT)
        with Locations((15, 17.5)):
            Circle(F1_R, mode=Mode.SUBTRACT)
    extrude(amount=F2_DEPTH)

    # F3
    f3_edges = [f2.edges().sort_by_distance(p)[0] for p in [
        (-25, -25, 0.5),
        (25, 25, 0.5),
    ]]
    fillet(f3_edges, radius=F3_R)

    # F4
    f4_edges = [f2.edges().sort_by_distance(p)[0] for p in [
        (25, -25, 0.5),
        (-25, 25, 0.5),
    ]]
    chamfer(f4_edges, length=F4_SIZE)


solid = f2.part
